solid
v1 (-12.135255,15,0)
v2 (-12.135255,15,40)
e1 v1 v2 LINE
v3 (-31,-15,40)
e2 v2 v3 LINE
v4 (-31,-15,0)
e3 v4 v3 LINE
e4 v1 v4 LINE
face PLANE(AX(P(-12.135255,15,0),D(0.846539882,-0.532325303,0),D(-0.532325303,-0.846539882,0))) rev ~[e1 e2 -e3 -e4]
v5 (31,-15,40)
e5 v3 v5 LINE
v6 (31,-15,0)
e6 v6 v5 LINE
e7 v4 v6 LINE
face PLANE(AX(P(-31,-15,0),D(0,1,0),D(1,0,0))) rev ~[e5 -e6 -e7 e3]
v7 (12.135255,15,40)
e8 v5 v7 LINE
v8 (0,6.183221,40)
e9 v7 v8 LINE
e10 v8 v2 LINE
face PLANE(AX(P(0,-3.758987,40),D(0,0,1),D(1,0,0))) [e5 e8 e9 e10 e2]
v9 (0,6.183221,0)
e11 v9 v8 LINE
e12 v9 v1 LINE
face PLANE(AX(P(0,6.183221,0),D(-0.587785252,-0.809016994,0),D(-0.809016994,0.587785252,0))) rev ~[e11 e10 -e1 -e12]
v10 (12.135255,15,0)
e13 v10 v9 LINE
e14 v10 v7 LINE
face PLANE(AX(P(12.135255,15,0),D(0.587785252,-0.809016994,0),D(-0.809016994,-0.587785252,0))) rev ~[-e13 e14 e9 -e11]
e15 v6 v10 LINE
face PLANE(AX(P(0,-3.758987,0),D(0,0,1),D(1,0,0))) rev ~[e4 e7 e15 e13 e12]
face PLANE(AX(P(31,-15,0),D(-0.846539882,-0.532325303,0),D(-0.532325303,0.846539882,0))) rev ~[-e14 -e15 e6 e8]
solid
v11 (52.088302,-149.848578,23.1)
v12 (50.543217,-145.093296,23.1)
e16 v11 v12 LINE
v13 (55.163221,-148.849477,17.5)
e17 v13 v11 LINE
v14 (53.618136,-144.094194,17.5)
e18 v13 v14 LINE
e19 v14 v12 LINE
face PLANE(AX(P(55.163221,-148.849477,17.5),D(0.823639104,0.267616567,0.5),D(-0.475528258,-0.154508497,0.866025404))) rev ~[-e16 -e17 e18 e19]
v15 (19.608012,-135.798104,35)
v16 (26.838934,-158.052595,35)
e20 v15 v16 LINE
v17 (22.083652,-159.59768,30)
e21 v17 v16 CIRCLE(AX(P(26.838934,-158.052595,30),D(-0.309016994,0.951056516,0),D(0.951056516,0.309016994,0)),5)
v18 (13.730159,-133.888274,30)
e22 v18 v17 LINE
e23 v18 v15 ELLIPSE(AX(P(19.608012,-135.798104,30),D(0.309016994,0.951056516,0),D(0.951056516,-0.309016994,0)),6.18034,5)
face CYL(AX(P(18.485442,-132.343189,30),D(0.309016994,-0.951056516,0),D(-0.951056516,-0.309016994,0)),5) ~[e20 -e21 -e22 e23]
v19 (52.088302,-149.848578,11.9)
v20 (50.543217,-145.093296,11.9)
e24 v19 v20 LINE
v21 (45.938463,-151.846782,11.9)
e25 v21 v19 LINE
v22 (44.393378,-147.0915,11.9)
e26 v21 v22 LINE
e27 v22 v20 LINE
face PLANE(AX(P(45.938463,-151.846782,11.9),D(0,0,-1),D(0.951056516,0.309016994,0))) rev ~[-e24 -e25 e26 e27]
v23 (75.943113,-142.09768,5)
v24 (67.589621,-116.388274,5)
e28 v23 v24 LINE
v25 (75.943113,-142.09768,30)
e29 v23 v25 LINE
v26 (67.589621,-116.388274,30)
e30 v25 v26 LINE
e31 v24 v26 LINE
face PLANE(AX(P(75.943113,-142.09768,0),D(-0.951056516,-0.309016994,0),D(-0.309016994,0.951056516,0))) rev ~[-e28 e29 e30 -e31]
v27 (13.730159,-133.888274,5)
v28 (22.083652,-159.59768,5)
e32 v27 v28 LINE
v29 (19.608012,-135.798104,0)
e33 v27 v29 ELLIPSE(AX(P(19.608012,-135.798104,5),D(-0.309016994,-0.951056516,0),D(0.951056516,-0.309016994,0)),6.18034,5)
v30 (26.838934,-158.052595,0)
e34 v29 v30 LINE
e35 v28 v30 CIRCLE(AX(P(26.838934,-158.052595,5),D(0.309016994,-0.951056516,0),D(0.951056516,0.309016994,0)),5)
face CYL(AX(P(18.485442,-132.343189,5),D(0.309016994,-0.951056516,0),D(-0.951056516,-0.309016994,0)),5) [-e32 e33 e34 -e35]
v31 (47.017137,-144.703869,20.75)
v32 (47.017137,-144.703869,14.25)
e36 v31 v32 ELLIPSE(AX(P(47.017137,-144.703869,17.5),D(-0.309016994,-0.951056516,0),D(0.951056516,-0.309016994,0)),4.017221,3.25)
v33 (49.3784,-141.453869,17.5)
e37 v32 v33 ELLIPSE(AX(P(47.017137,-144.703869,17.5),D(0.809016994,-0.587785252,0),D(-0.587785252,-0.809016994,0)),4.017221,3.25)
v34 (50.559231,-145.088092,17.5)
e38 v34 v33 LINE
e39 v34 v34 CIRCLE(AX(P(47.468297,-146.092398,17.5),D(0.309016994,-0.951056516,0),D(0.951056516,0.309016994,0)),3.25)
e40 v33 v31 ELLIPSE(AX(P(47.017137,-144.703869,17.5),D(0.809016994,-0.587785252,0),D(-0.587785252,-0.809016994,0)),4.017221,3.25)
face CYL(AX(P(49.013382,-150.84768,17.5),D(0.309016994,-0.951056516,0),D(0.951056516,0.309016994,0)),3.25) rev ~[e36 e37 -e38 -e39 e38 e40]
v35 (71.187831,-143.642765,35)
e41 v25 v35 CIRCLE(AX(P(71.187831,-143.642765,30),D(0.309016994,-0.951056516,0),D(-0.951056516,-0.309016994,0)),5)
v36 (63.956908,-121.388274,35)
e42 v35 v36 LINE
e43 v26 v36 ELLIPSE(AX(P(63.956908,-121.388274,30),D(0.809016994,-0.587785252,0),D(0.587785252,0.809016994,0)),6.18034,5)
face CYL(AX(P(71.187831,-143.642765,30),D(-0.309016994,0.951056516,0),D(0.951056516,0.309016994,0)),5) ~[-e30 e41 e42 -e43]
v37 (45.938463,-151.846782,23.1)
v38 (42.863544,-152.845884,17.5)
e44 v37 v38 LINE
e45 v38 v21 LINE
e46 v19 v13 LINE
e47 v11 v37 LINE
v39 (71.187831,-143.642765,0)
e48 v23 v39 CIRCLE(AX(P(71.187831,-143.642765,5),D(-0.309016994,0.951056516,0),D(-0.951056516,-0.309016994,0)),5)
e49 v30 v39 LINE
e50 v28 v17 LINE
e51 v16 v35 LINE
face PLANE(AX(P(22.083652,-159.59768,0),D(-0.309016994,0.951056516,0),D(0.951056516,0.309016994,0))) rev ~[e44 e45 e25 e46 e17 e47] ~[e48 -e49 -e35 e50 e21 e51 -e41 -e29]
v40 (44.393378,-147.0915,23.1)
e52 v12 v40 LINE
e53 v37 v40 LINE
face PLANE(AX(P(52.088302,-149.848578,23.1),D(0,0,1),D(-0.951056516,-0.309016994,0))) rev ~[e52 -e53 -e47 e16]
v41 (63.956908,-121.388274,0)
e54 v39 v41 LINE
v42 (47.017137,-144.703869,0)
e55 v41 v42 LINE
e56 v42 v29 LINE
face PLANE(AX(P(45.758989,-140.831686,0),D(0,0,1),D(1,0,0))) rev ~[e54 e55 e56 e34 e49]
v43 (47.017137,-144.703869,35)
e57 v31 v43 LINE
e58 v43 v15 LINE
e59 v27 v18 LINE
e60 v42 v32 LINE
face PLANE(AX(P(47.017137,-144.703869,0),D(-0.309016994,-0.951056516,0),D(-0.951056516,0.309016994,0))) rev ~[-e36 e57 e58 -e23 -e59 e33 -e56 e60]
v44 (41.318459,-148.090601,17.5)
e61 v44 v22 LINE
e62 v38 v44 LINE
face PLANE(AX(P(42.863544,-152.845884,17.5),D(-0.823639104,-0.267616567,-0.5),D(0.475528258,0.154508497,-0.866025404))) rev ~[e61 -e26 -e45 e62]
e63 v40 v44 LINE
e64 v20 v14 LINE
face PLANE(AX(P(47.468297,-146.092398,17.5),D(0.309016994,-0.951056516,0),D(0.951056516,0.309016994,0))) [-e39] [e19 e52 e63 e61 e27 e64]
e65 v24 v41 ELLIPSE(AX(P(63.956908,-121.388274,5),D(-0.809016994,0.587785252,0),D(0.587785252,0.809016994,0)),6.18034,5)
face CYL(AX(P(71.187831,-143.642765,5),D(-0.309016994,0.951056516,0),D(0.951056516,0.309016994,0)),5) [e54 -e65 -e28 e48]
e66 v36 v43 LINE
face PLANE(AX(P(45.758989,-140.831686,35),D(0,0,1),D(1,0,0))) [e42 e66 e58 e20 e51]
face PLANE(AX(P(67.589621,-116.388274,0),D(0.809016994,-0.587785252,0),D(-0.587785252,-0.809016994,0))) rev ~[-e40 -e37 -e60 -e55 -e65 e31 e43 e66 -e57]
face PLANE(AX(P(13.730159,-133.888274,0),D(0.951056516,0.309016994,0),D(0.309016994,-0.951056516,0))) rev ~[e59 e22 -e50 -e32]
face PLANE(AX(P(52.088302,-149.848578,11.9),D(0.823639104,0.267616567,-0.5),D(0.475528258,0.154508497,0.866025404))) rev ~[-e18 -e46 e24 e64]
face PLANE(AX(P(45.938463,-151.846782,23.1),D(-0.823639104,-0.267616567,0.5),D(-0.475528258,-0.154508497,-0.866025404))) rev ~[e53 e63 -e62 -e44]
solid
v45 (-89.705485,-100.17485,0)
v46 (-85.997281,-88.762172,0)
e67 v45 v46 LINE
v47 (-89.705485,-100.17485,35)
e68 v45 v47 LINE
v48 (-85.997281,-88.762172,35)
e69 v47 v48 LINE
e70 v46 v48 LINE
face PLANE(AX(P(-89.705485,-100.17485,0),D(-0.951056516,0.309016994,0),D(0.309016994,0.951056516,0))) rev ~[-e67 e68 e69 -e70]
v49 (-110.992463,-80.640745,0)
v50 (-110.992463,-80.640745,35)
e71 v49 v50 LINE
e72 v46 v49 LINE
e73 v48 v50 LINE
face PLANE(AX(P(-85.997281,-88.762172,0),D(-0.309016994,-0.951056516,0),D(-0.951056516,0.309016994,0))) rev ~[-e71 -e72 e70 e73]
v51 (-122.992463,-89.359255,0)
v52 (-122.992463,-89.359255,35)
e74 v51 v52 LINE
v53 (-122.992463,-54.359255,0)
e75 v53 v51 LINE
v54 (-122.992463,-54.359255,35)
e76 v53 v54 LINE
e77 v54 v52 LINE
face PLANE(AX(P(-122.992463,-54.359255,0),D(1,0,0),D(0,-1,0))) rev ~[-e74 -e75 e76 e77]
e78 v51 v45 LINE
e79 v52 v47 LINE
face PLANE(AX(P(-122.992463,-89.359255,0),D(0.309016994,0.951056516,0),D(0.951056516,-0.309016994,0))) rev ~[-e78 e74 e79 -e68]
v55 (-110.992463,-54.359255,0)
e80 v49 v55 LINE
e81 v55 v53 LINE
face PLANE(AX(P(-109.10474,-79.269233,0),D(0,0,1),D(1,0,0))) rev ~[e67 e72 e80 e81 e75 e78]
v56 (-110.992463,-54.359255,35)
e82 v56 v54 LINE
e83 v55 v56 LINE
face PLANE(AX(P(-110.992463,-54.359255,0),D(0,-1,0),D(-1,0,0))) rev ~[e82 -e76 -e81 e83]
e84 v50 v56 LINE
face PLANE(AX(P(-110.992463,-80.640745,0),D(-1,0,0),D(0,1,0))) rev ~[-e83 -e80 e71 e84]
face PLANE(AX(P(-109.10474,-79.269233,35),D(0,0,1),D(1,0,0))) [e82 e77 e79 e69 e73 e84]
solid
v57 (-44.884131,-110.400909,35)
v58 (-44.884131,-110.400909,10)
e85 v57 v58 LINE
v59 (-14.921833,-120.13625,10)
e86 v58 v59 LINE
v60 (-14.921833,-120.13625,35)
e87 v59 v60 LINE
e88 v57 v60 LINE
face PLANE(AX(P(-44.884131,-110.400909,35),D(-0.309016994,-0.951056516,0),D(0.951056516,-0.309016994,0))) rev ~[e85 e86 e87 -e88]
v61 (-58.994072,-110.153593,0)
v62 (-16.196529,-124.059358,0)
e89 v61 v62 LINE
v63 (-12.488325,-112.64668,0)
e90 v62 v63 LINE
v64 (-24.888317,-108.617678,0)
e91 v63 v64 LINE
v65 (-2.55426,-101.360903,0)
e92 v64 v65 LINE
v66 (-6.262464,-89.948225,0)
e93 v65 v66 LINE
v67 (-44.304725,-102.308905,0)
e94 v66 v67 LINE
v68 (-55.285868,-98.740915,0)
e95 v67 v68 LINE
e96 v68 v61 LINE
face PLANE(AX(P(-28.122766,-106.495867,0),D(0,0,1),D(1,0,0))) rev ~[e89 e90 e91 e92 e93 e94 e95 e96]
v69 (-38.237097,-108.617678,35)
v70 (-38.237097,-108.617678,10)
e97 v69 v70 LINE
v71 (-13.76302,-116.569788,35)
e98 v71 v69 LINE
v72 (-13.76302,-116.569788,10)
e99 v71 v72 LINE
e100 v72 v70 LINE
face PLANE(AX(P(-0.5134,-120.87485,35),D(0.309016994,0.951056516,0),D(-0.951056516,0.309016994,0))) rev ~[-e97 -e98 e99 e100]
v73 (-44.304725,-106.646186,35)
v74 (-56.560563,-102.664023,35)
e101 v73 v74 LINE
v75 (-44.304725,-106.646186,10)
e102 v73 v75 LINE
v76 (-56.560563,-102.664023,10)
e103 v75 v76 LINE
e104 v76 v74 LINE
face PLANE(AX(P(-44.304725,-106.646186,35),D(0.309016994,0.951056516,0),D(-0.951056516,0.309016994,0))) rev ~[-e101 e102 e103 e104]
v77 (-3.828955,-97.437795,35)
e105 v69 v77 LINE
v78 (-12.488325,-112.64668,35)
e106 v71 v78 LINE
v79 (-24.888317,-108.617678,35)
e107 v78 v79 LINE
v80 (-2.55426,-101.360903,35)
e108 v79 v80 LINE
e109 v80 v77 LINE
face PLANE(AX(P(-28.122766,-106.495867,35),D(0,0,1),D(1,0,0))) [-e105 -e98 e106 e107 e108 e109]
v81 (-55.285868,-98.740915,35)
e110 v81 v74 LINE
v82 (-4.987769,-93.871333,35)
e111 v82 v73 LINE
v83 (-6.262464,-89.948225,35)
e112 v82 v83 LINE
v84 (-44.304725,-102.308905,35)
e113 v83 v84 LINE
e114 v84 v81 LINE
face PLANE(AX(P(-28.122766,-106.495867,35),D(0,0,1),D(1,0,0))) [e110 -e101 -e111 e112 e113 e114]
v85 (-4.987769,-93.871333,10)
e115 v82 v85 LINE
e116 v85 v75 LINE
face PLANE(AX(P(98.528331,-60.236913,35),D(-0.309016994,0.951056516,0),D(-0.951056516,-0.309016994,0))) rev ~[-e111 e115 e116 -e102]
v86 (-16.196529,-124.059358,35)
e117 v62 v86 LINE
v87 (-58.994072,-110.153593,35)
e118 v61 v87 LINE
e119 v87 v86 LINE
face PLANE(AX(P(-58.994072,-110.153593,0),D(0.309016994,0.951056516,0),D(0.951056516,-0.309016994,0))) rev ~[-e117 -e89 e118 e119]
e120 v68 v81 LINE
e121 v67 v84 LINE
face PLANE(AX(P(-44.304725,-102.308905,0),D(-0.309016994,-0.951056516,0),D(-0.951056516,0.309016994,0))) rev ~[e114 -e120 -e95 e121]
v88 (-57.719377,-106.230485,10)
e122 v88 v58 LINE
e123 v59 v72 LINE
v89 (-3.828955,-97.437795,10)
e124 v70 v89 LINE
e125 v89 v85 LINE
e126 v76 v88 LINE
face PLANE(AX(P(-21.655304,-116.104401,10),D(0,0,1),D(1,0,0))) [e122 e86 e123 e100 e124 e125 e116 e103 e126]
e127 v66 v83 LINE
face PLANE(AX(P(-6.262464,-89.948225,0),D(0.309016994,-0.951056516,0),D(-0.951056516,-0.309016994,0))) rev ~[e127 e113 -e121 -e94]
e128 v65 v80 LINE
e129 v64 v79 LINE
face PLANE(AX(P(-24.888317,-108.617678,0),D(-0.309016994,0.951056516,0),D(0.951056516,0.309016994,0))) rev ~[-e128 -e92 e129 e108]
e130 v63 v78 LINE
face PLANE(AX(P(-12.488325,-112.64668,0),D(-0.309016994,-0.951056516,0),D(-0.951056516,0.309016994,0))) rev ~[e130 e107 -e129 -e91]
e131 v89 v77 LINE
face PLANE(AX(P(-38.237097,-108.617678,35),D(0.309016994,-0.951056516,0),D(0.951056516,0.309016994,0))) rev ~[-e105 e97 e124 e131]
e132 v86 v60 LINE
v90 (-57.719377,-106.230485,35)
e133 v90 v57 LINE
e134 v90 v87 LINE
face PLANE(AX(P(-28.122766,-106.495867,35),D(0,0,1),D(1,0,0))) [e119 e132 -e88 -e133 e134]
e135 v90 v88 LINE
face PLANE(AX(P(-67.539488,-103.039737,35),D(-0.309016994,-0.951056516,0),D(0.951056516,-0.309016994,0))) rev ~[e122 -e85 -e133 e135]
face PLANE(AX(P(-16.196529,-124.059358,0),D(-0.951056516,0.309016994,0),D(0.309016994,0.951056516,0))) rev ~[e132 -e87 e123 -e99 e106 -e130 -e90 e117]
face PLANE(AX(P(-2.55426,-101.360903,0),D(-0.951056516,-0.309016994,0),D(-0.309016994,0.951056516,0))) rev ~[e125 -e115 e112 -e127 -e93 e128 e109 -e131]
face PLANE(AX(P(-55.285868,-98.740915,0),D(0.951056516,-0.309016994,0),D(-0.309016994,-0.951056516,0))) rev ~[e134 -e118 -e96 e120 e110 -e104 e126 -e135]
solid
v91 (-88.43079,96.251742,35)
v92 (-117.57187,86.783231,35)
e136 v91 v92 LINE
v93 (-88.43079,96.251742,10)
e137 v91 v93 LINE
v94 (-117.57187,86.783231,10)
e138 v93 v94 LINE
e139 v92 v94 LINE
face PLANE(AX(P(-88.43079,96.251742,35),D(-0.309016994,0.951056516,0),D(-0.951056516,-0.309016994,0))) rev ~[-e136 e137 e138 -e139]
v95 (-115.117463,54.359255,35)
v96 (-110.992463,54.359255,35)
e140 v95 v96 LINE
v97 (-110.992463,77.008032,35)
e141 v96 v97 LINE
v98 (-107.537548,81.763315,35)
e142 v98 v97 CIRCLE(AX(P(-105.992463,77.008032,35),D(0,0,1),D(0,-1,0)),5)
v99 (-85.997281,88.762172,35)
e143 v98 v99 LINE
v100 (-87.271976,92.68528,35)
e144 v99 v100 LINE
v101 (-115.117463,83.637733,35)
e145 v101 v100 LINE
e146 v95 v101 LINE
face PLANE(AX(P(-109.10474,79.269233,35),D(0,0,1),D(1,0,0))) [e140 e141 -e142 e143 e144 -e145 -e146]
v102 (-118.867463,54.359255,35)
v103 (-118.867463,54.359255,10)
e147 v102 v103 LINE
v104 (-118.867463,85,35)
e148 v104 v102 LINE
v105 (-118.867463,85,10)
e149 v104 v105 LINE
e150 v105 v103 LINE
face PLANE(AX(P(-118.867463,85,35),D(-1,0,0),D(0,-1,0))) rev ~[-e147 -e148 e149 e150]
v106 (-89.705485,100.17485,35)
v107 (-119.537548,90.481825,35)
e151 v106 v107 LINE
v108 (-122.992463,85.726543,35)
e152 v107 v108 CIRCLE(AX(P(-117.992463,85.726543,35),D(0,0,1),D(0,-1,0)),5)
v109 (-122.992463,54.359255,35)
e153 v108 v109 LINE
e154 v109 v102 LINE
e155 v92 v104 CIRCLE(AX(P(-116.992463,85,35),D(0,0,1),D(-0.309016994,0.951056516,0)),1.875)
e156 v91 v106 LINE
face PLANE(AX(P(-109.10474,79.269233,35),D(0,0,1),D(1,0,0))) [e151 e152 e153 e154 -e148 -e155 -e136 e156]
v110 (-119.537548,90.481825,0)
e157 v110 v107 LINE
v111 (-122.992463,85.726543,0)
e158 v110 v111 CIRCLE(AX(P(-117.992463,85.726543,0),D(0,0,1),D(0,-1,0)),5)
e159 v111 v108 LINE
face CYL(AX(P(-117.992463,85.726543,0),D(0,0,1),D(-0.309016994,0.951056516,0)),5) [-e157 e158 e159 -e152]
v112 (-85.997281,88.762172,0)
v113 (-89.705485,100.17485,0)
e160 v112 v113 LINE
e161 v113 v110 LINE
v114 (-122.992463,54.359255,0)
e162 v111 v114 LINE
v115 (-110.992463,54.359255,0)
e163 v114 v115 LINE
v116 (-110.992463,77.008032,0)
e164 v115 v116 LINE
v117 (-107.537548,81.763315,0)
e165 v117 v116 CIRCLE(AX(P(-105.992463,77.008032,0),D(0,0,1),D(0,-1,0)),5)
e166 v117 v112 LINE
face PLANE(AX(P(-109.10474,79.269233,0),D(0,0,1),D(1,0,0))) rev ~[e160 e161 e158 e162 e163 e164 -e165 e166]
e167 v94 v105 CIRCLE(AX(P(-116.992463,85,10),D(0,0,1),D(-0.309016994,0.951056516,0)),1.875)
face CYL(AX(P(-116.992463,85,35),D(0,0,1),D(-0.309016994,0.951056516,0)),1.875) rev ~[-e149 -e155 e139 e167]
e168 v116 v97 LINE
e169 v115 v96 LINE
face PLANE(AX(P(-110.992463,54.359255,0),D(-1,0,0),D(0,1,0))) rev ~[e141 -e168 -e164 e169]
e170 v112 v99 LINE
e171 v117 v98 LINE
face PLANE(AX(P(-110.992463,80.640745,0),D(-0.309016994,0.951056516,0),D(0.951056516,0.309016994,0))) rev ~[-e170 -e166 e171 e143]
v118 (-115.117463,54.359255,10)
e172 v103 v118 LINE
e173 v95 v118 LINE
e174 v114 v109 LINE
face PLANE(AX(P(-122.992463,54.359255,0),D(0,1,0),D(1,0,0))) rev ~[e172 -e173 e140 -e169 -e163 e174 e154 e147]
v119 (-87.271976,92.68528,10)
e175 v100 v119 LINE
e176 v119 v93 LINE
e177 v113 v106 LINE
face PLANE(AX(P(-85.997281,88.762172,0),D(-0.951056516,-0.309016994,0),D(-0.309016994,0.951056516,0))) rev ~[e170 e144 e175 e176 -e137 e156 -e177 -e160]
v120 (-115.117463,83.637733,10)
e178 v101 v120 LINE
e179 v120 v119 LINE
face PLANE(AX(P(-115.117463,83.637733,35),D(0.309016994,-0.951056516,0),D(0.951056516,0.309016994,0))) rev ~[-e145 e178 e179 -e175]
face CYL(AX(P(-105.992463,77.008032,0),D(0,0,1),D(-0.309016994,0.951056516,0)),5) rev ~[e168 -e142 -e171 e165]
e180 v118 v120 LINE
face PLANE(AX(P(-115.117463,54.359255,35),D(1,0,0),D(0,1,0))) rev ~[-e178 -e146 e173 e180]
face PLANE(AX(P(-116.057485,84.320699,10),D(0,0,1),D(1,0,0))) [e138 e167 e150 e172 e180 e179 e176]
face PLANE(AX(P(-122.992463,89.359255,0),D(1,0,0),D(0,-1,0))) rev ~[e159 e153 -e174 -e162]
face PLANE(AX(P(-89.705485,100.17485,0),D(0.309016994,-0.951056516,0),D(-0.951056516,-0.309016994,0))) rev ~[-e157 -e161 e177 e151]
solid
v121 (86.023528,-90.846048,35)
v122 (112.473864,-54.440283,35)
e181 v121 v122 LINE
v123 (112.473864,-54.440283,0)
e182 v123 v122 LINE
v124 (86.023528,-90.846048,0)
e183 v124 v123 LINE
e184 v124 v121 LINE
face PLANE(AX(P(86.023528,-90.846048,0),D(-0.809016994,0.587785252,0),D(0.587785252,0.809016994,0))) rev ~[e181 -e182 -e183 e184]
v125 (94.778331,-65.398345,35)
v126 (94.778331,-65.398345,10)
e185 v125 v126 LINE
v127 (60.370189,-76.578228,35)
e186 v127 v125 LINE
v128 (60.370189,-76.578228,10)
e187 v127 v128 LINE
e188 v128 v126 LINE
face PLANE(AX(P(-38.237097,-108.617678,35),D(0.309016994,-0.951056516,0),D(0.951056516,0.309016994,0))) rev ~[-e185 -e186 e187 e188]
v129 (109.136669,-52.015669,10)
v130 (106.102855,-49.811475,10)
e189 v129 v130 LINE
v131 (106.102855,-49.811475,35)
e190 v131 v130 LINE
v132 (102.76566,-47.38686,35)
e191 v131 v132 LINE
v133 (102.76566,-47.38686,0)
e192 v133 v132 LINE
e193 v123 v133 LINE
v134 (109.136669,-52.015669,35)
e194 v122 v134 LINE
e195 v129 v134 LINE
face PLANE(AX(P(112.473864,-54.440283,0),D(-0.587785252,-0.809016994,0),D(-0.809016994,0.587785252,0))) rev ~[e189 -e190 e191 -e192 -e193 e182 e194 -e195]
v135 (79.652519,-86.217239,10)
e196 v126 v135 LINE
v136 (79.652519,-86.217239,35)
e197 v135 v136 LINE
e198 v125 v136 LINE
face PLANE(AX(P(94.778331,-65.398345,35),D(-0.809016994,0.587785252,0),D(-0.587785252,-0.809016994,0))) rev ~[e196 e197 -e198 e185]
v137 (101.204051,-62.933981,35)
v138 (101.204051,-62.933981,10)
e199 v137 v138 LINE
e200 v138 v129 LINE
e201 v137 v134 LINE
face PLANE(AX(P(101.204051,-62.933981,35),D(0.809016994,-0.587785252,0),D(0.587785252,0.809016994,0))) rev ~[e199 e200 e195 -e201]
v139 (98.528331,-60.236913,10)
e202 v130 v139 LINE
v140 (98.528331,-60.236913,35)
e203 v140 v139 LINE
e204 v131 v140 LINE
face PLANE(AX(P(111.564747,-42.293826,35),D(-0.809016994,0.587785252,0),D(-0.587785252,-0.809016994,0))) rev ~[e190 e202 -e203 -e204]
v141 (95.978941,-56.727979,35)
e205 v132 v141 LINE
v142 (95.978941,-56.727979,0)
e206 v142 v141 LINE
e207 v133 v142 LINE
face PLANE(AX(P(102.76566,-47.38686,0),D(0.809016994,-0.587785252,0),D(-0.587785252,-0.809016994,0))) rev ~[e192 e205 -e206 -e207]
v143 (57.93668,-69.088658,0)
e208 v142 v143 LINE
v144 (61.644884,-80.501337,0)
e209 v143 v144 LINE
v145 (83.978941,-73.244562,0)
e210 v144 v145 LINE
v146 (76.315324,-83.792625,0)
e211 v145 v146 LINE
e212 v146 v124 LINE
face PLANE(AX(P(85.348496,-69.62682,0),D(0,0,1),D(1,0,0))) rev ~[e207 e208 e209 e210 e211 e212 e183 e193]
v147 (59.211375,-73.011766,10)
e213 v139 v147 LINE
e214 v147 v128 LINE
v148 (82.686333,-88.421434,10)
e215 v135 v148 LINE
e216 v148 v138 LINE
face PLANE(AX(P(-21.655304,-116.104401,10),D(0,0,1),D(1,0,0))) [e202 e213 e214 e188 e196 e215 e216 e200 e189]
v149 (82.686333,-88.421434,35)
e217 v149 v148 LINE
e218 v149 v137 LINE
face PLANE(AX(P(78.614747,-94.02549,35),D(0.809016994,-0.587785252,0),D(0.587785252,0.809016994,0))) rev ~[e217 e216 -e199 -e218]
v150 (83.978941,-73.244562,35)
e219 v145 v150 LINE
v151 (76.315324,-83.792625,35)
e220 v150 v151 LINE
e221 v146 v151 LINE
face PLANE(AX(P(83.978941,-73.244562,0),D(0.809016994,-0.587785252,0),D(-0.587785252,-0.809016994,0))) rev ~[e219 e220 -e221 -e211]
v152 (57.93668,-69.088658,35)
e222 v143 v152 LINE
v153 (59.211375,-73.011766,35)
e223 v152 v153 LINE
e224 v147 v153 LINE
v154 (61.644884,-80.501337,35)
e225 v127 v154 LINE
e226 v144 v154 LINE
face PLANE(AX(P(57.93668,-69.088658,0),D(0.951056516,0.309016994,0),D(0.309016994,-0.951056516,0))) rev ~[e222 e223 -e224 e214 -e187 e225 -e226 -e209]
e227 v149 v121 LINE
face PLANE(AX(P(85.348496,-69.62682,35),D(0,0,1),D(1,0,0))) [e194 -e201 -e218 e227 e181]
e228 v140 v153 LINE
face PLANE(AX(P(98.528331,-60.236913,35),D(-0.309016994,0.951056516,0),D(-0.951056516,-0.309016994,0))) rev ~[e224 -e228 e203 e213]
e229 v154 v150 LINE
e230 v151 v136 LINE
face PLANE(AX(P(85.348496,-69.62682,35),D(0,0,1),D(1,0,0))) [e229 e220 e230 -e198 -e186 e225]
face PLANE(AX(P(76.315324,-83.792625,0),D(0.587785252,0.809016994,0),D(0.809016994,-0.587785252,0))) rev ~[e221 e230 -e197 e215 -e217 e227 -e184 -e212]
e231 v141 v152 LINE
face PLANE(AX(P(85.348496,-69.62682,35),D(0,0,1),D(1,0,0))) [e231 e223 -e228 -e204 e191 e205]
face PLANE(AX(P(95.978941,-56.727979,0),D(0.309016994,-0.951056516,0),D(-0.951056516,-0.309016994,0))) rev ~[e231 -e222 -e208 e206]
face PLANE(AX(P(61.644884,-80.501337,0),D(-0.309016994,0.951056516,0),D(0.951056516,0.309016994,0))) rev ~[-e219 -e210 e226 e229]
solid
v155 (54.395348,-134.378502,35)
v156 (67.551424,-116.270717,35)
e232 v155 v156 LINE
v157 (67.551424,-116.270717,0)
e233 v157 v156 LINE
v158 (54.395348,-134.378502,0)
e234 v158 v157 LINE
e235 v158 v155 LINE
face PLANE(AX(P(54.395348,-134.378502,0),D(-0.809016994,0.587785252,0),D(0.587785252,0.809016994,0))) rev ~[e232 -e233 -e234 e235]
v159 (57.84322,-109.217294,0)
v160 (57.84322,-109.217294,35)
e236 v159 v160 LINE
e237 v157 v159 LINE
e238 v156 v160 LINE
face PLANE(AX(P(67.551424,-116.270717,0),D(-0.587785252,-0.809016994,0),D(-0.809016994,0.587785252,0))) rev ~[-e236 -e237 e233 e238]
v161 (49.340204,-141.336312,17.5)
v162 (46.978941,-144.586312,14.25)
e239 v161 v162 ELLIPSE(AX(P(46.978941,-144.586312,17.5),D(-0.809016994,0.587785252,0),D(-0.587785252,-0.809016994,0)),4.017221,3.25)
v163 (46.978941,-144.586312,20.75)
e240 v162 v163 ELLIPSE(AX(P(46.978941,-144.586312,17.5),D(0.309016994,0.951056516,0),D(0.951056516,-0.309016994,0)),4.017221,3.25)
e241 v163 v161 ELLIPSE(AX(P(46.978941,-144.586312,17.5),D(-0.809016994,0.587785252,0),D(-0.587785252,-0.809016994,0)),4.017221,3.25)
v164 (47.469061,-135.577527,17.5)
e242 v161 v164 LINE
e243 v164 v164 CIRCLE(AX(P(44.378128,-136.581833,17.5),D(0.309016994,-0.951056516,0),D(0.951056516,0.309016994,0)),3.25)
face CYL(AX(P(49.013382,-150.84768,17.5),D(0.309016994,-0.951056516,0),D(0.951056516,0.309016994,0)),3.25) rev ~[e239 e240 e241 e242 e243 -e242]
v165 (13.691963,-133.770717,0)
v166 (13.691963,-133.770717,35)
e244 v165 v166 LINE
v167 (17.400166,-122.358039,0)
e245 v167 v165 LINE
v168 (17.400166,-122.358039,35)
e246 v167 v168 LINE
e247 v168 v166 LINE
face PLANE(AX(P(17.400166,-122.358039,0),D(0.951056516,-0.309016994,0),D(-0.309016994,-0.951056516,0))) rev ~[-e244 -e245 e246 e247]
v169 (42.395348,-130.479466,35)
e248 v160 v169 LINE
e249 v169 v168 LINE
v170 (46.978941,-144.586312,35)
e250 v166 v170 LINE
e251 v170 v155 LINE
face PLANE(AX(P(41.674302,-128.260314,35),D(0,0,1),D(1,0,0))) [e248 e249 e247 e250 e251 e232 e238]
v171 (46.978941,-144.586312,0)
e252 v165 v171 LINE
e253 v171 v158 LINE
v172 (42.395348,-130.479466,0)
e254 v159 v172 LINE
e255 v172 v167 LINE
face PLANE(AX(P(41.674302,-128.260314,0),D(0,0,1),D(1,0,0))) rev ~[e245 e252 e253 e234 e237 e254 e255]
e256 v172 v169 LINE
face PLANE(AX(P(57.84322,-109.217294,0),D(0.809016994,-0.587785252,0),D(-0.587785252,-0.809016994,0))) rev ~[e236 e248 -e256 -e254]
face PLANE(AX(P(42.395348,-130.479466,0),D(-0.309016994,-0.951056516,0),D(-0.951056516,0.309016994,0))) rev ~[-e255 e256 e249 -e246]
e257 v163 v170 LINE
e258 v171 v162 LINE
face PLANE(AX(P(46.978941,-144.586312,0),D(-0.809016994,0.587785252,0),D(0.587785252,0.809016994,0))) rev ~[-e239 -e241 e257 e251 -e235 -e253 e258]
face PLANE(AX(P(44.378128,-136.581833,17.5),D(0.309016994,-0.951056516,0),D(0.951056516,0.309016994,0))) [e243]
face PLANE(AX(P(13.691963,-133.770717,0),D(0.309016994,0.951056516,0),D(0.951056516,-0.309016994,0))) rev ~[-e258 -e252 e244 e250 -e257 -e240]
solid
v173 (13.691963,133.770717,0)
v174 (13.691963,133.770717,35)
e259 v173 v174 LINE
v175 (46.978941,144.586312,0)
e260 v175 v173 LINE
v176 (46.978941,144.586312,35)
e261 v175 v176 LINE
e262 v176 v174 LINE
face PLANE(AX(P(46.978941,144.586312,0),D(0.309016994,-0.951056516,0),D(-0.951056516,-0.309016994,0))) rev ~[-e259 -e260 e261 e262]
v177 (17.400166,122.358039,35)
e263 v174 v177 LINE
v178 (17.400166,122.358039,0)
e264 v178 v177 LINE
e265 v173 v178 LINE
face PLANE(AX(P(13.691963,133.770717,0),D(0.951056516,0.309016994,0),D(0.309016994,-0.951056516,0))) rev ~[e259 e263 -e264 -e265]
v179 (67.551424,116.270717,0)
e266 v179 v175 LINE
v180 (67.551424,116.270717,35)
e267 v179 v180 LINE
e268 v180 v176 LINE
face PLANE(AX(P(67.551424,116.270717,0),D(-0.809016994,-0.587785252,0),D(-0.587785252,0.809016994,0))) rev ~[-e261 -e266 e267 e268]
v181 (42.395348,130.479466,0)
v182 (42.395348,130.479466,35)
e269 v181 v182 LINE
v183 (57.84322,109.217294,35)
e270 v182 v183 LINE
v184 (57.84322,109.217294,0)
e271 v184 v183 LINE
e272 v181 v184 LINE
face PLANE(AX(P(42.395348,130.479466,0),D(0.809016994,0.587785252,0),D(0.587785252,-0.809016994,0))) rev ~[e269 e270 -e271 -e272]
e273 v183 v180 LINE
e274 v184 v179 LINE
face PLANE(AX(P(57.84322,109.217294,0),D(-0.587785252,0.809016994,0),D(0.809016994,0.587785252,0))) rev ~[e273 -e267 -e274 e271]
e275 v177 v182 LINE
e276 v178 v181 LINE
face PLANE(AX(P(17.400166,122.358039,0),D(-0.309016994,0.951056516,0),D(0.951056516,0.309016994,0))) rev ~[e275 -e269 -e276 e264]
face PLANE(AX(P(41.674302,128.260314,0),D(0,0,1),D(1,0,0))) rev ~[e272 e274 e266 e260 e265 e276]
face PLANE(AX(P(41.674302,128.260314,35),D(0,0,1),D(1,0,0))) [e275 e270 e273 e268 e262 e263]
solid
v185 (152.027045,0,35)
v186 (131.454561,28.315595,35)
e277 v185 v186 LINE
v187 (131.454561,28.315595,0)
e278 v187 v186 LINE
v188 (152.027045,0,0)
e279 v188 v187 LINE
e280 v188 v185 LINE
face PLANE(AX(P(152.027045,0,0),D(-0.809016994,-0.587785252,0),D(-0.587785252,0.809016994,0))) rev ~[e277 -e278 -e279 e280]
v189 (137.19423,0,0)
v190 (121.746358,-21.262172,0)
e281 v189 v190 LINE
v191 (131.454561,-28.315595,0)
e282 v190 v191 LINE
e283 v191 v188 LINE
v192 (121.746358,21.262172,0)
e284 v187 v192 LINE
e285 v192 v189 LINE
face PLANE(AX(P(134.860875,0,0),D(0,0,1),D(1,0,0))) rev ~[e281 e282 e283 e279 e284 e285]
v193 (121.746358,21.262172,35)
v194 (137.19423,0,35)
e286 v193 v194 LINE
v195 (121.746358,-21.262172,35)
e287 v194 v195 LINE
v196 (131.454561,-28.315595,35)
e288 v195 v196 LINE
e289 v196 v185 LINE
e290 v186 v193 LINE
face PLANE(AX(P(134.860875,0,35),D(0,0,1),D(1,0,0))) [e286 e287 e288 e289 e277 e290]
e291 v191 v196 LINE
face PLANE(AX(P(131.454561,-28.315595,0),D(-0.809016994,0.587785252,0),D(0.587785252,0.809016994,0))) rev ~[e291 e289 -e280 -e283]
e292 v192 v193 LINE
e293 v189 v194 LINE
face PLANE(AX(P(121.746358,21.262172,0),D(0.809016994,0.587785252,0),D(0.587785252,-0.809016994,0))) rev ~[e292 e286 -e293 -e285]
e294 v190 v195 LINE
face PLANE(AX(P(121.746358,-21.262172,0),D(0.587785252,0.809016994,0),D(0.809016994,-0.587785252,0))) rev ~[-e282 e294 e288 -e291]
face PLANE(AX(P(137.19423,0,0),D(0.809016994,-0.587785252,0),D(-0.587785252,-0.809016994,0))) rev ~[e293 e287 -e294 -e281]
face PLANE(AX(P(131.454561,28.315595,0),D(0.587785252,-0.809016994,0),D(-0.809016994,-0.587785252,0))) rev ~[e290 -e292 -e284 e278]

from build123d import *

# Parameters (mm, degrees)
F1_DEPTH  = 35
F3_DEPTH  = 25
F4_R      = 5
F6_DEPTH  = 25
F8_DEPTH  = 25
F9_R      = 5
F12_DEPTH = 5
F11_R     = 3.25
F13_DEPTH = 15
F15_DEPTH = 40


with BuildPart() as f1:
    # F0 (on Top) → F1 (new body)
    with BuildSketch(Plane.XY):
        Polygon((-89.7054851697, 100.1748499712), (-122.99246324, 89.359255168), (-122.99246324, 54.359255168), (-110.99246324, 54.359255168), (-110.99246324, 80.640744832), (-85.9972812372, 88.7621717756), align=None)
    extrude(amount=F1_DEPTH)


with BuildPart() as f1b:
    # F0 (on Top) → F1, piece 2 (new body)
    with BuildSketch(Plane.XY):
        Polygon((-89.7054851697, -100.1748499712), (-85.9972812372, -88.7621717756), (-110.99246324, -80.640744832), (-110.99246324, -54.359255168), (-122.99246324, -54.359255168), (-122.99246324, -89.359255168), align=None)
    extrude(amount=F1_DEPTH)


with BuildPart() as f1c:
    # F0 (on Top) → F1, piece 3 (new body)
    with BuildSketch(Plane.XY):
        Polygon((54.3953484626, -134.378502371), (67.5514244279, -116.2707172681), (57.8432204954, -109.2172942406), (42.3953484626, -130.4794660162), (17.4001664598, -122.3580390726), (13.6919625273, -133.7707172681), (46.9789405976, -144.5863120713), align=None)
    extrude(amount=F1_DEPTH)


with BuildPart() as f1d:
    # F0 (on Top) → F1, piece 4 (new body)
    with BuildSketch(Plane.XY):
        Polygon((131.4545614546, 28.3155948031), (121.7463575221, 21.2621717756), (137.1942295548, 0), (121.7463575221, -21.2621717756), (131.4545614546, -28.3155948031), (152.0270452848, 0), align=None)
    extrude(amount=F1_DEPTH)


with BuildPart() as f1e:
    # F0 (on Top) → F1, piece 5 (new body)
    with BuildSketch(Plane.XY):
        Polygon((67.5514244279, 116.2707172681), (46.9789405976, 144.5863120713), (13.6919625273, 133.7707172681), (17.4001664598, 122.3580390726), (42.3953484626, 130.4794660162), (57.8432204954, 109.2172942406), align=None)
    extrude(amount=F1_DEPTH)


with BuildPart() as f1f:
    # F0 (on Top) → F1, piece 6 (new body)
    with BuildSketch(Plane.XY):
        Polygon((-58.9940718149, -110.1535930693), (-16.1965285816, -124.0593578161), (-12.4883246491, -112.6466796206), (-24.8883169861, -108.6176778772), (-2.5542602668, -101.3609029523), (-6.2624641993, -89.9482247568), (-44.3047248511, -102.3089045318), (-55.2858678824, -98.7409148737), align=None)
    extrude(amount=F1_DEPTH)


with BuildPart() as f1g:
    # F0 (on Top) → F1, piece 7 (new body)
    with BuildSketch(Plane.XY):
        Polygon((112.4738641588, -54.440283399), (102.7656602263, -47.3868603715), (95.9789405976, -56.7279785677), (57.9366799458, -69.0886583427), (61.6448838783, -80.5013365383), (83.9789405976, -73.2445616134), (76.3153238731, -83.7926251184), (86.0235278056, -90.8460481459), align=None)
    extrude(amount=F1_DEPTH)


with BuildPart() as f1h:
    # F0 (on Top) → F1, piece 8 (new body)
    with BuildSketch(Plane.XY):
        Polygon((13.7301591284, -133.8882743186), (22.0836515011, -159.5976802719), (75.9431134017, -142.0976802719), (67.589621029, -116.3882743186), (47.0171371988, -144.7038691217), align=None)
    extrude(amount=F1_DEPTH)

    # F9
    f9_edges = [f1h.edges().sort_by_distance(p)[0] for p in [
        (17.906905, -146.742977, 0),
        (17.906905, -146.742977, 35),
        (71.766367, -129.242977, 35),
        (71.766367, -129.242977, 0),
    ]]
    fillet(f9_edges, radius=F9_R)

    # F10 (on face) → F12 (cut)
    with BuildSketch(Plane(origin=(49.0133824514, -150.8476802719, 0), x_dir=(0.9510565163, 0.3090169944, 0), z_dir=(0.3090169944, -0.9510565163, 0))):
        Polygon((3.2331615075, 23.1), (-3.2331615075, 23.1), (-6.4663230149, 17.5), (-3.2331615075, 11.9), (3.2331615075, 11.9), (6.4663230149, 17.5), align=None)
    extrude(amount=-F12_DEPTH, mode=Mode.SUBTRACT)


with BuildPart() as f3_tool:
    # F2 (on face) → F3 (new body)
    with BuildSketch(Plane.XY.offset(35)):
        with BuildLine():
            Line((-38.2370973933, -108.6176778772), (-41.2709111222, -109.6034237124))
            Line((-41.2709111222, -109.6034237124), (-43.7253179867, -110.4009088452))
            ThreePointArc((-43.7253179867, -110.4009088452), (-44.3047247368, -110.4926778772), (-44.8841314982, -110.4009089159))
            Line((-44.8841314982, -110.4009089159), (-1.672213686, -124.441312125))
            ThreePointArc((-1.672213686, -124.441312125), (0.6904241465, -123.2374880214), (-0.5133999571, -120.8748501889))
            Line((-0.5133999571, -120.8748501889), (-38.2370973933, -108.6176778772))
        make_face()
        with BuildLine():
            ThreePointArc((-44.8841314982, -110.4009089159), (-45.9753620321, -109.468910166), (-46.0879558192, -108.0382710127))
            ThreePointArc((-46.0879558192, -108.0382710127), (-45.6305500658, -107.2918526625), (-44.8841317156, -106.8344469091))
            Line((-44.8841317156, -106.8344469091), (-44.3047248511, -106.6461862067))
            Line((-44.3047248511, -106.6461862067), (-66.3806738585, -99.4732755612))
            ThreePointArc((-66.3806738585, -99.4732755612), (-68.743311691, -100.6770996648), (-67.5394875874, -103.0397374973))
            Line((-67.5394875874, -103.0397374973), (-44.8841314982, -110.4009089159))
        make_face()
        with BuildLine():
            Line((111.5647467268, -42.2938259644), (98.5283308012, -60.2369131522))
            Line((98.5283308012, -60.2369131522), (99.1077376657, -60.0486524498))
            ThreePointArc((99.1077376657, -60.0486524498), (99.9804591521, -59.9799677792), (100.7892418782, -60.3149765534))
            ThreePointArc((100.7892418782, -60.3149765534), (101.5390601695, -61.5385688005), (101.2040513891, -62.9339807735))
            Line((101.2040513891, -62.9339807735), (114.5985604557, -44.4980206605))
            ThreePointArc((114.5985604557, -44.4980206605), (114.1837509393, -41.879016448), (111.5647467268, -42.2938259644))
        make_face()
        with BuildLine():
            Line((97.8121445301, -64.4125995187), (94.7783308012, -65.3983453539))
            Line((94.7783308012, -65.3983453539), (75.5809337275, -91.8212956063))
            ThreePointArc((75.5809337275, -91.8212956063), (75.9957432439, -94.4402998188), (78.6147474564, -94.0254903024))
            Line((78.6147474564, -94.0254903024), (101.2040513891, -62.9339807735))
            ThreePointArc((101.2040513891, -62.9339807735), (100.7892418744, -63.348790285), (100.2665513946, -63.6151143859))
            Line((100.2665513946, -63.6151143859), (97.8121445301, -64.4125995187))
        make_face()
        with BuildLine():
            Line((-116.99246324, 85), (-116.99246324, 83.125))
            ThreePointArc((-116.99246324, 83.125), (-116.6991486181, 83.1480843614), (-116.4130563756, 83.2167690319))
            Line((-116.4130563756, 83.2167690319), (-115.11746324, 83.63773276))
            Line((-115.11746324, 83.63773276), (-115.11746324, 85))
            ThreePointArc((-115.11746324, 85), (-115.1405476014, 85.293314622), (-115.209232272, 85.5794068645))
            Line((-115.209232272, 85.5794068645), (-116.99246324, 85))
        make_face()
        Polygon((-44.3047248511, -106.6461862067), (-41.2709111222, -107.631932042), (96.6533308012, -62.8176292531), (98.5283308012, -60.2369131522), align=None)
        with BuildLine():
            ThreePointArc((-118.86746324, 85), (-118.3182884548, 83.6741747853), (-116.99246324, 83.125))
            Line((-116.99246324, 83.125), (-116.99246324, 85))
            Line((-116.99246324, 85), (-115.209232272, 85.5794068645))
            ThreePointArc((-115.209232272, 85.5794068645), (-116.141231053, 86.6706372329), (-117.5718701045, 86.7832309681))
            ThreePointArc((-117.5718701045, 86.7832309681), (-118.5093701045, 86.102097348), (-118.86746324, 85))
        make_face()
        with BuildLine():
            Line((-46.0879558192, -108.0382710127), (-44.3047248511, -108.6176778772))
            Line((-44.3047248511, -108.6176778772), (-41.2709111222, -107.631932042))
            Line((-41.2709111222, -107.631932042), (-44.3047248511, -106.6461862067))
            Line((-44.3047248511, -106.6461862067), (-44.8841317156, -106.8344469091))
            ThreePointArc((-44.8841317156, -106.8344469091), (-45.6305500658, -107.2918526625), (-46.0879558192, -108.0382710127))
        make_face()
        Polygon((-41.2709111222, -107.631932042), (-44.3047248511, -108.6176778772), (-41.2709111222, -109.6034237124), (-38.2370973933, -108.6176778772), align=None)
        with BuildLine():
            Line((98.5283308012, -60.2369131522), (96.6533308012, -62.8176292531))
            Line((96.6533308012, -62.8176292531), (99.6871445301, -61.8318834178))
            Line((99.6871445301, -61.8318834178), (100.7892418782, -60.3149765534))
            ThreePointArc((100.7892418782, -60.3149765534), (99.9804591521, -59.9799677792), (99.1077376657, -60.0486524498))
            Line((99.1077376657, -60.0486524498), (98.5283308012, -60.2369131522))
        make_face()
        Polygon((99.6871445301, -61.8318834178), (96.6533308012, -62.8176292531), (94.7783308012, -65.3983453539), (97.8121445301, -64.4125995187), align=None)
        with BuildLine():
            Line((100.7892418782, -60.3149765534), (99.6871445301, -61.8318834178))
            Line((99.6871445301, -61.8318834178), (97.8121445301, -64.4125995187))
            Line((97.8121445301, -64.4125995187), (100.2665513946, -63.6151143859))
            ThreePointArc((100.2665513946, -63.6151143859), (100.7892418744, -63.348790285), (101.2040513891, -62.9339807735))
            ThreePointArc((101.2040513891, -62.9339807735), (101.5390601695, -61.5385688005), (100.7892418782, -60.3149765534))
        make_face()
        with BuildLine():
            Line((-41.2709111222, -109.6034237124), (-44.3047248511, -108.6176778772))
            Line((-44.3047248511, -108.6176778772), (-46.0879558192, -108.0382710127))
            ThreePointArc((-46.0879558192, -108.0382710127), (-45.9753620321, -109.468910166), (-44.8841314982, -110.4009089159))
            ThreePointArc((-44.8841314982, -110.4009089159), (-44.3047247368, -110.4926778772), (-43.7253179867, -110.4009088452))
            Line((-43.7253179867, -110.4009088452), (-41.2709111222, -109.6034237124))
        make_face()
        with BuildLine():
            Line((-118.86746324, 54.359255168), (-116.99246324, 54.359255168))
            Line((-116.99246324, 54.359255168), (-116.99246324, 83.125))
            ThreePointArc((-116.99246324, 83.125), (-118.3182884548, 83.6741747853), (-118.86746324, 85))
            Line((-118.86746324, 85), (-118.86746324, 54.359255168))
        make_face()
        with BuildLine():
            Line((-116.99246324, 83.125), (-116.99246324, 54.359255168))
            Line((-116.99246324, 54.359255168), (-115.11746324, 54.359255168))
            Line((-115.11746324, 54.359255168), (-115.11746324, 83.63773276))
            Line((-115.11746324, 83.63773276), (-116.4130563756, 83.2167690319))
            ThreePointArc((-116.4130563756, 83.2167690319), (-116.6991486181, 83.1480843614), (-116.99246324, 83.125))
        make_face()
        with BuildLine():
            ThreePointArc((-117.5718701045, 86.7832309681), (-116.141231053, 86.6706372329), (-115.209232272, 85.5794068645))
            Line((-115.209232272, 85.5794068645), (-87.8513832035, 94.4685108734))
            Line((-87.8513832035, 94.4685108734), (-88.4307900679, 96.2517418414))
            Line((-88.4307900679, 96.2517418414), (-117.5718701045, 86.7832309681))
        make_face()
        with BuildLine():
            Line((-115.11746324, 85), (-115.11746324, 83.63773276))
            Line((-115.11746324, 83.63773276), (-87.271976339, 92.6852799053))
            Line((-87.271976339, 92.6852799053), (-87.8513832035, 94.4685108734))
            Line((-87.8513832035, 94.4685108734), (-115.209232272, 85.5794068645))
            ThreePointArc((-115.209232272, 85.5794068645), (-115.1405476014, 85.293314622), (-115.11746324, 85))
        make_face()
        with BuildLine():
            Line((-115.11746324, 54.359255168), (-116.99246324, 54.359255168))
            Line((-116.99246324, 54.359255168), (-118.86746324, 54.359255168))
            ThreePointArc((-118.86746324, 54.359255168), (-116.99246324, 52.484255168), (-115.11746324, 54.359255168))
        make_face()
        with BuildLine():
            Line((-87.8513832035, 94.4685108734), (-87.271976339, 92.6852799053))
            ThreePointArc((-87.271976339, 92.6852799053), (-86.0681522354, 95.0479177378), (-88.4307900679, 96.2517418414))
            Line((-88.4307900679, 96.2517418414), (-87.8513832035, 94.4685108734))
        make_face()
    extrude(amount=-F3_DEPTH)


with BuildPart() as f1_1:
    add(f1.part)

    # F3: cut by f3_tool
    add(f3_tool.part, mode=Mode.SUBTRACT)

    # F4
    f4_edges = [f1_1.edges().sort_by_distance(p)[0] for p in [
        (-110.992463, 80.640745, 17.5),
        (-122.992463, 89.359255, 17.5),
    ]]
    fillet(f4_edges, radius=F4_R)

    # F7 (on face) → F8 (cut)
    with BuildSketch(Plane.XY.offset(35)):
        with BuildLine():
            Line((97.8121445301, -64.4125995187), (94.7783308012, -65.3983453539))
            Line((94.7783308012, -65.3983453539), (79.6525189749, -86.2172392841))
            Line((79.6525189749, -86.2172392841), (75.6043512253, -91.7890641857))
            ThreePointArc((75.6043512253, -91.7890641857), (76.0191607417, -94.4080683982), (78.6381649542, -93.9932588818))
            Line((78.6381649542, -93.9932588818), (101.2040513891, -62.9339807735))
            ThreePointArc((101.2040513891, -62.9339807735), (100.7892418744, -63.348790285), (100.2665513946, -63.6151143859))
            Line((100.2665513946, -63.6151143859), (97.8121445301, -64.4125995187))
        make_face()
        Polygon((99.6871445301, -61.8318834178), (96.6533308012, -62.8176292531), (94.7783308012, -65.3983453539), (97.8121445301, -64.4125995187), align=None)
        Polygon((-44.5022110645, -106.7103533672), (-41.4683973356, -107.6960992024), (96.6533308012, -62.8176292531), (98.5283308012, -60.2369131522), align=None)
        with BuildLine():
            Line((98.5283308012, -60.2369131522), (96.6533308012, -62.8176292531))
            Line((96.6533308012, -62.8176292531), (99.6871445301, -61.8318834178))
            Line((99.6871445301, -61.8318834178), (100.7892418782, -60.3149765534))
            ThreePointArc((100.7892418782, -60.3149765534), (99.9804591521, -59.9799677792), (99.1077376657, -60.0486524498))
            Line((99.1077376657, -60.0486524498), (98.5283308012, -60.2369131522))
        make_face()
        with BuildLine():
            Line((111.5881642246, -42.2615945438), (98.5283308012, -60.2369131522))
            Line((98.5283308012, -60.2369131522), (99.1077376657, -60.0486524498))
            ThreePointArc((99.1077376657, -60.0486524498), (99.9804591521, -59.9799677792), (100.7892418782, -60.3149765534))
            ThreePointArc((100.7892418782, -60.3149765534), (101.5390601695, -61.5385688005), (101.2040513891, -62.9339807735))
            Line((101.2040513891, -62.9339807735), (114.6219779535, -44.4657892399))
            ThreePointArc((114.6219779535, -44.4657892399), (114.2071684371, -41.8467850274), (111.5881642246, -42.2615945438))
        make_face()
        with BuildLine():
            Line((100.7892418782, -60.3149765534), (99.6871445301, -61.8318834178))
            Line((99.6871445301, -61.8318834178), (97.8121445301, -64.4125995187))
            Line((97.8121445301, -64.4125995187), (100.2665513946, -63.6151143859))
            ThreePointArc((100.2665513946, -63.6151143859), (100.7892418744, -63.348790285), (101.2040513891, -62.9339807735))
            ThreePointArc((101.2040513891, -62.9339807735), (101.5390601695, -61.5385688005), (100.7892418782, -60.3149765534))
        make_face()
        Polygon((96.6533308012, -62.8176292531), (-41.4683973356, -107.6960992024), (-38.4345836067, -108.6818450377), (60.3701887765, -76.5782284085), (94.7783308012, -65.3983453539), align=None)
    extrude(amount=-F8_DEPTH, mode=Mode.SUBTRACT)


with BuildPart() as f1f_1:
    add(f1f.part)

    # F3: cut by f3_tool
    add(f3_tool.part, mode=Mode.SUBTRACT)


with BuildPart() as f1g_1:
    add(f1g.part)

    # F3: cut by f3_tool
    add(f3_tool.part, mode=Mode.SUBTRACT)


with BuildPart() as f6_tool:
    # F5 (on face) → F6 (new body)
    with BuildSketch(Plane.XY.offset(35)):
        with BuildLine():
            ThreePointArc((-44.8841315729, -110.4009088916), (-45.9753620499, -109.4689101311), (-46.0879558192, -108.0382710127))
            ThreePointArc((-46.0879558192, -108.0382710127), (-45.6305500658, -107.2918526625), (-44.8841317156, -106.8344469091))
            Line((-44.8841317156, -106.8344469091), (-44.3047248511, -106.6461862067))
            Line((-44.3047248511, -106.6461862067), (-66.8842523844, -99.3096529795))
            ThreePointArc((-66.8842523844, -99.3096529795), (-69.2468902169, -100.5134770831), (-68.0430661133, -102.8761149157))
            Line((-68.0430661133, -102.8761149157), (-44.8841315729, -110.4009088916))
        make_face()
        with BuildLine():
            Line((-41.2709111222, -109.6034237124), (-44.3047248511, -108.6176778772))
            Line((-44.3047248511, -108.6176778772), (-46.0879558192, -108.0382710127))
            ThreePointArc((-46.0879558192, -108.0382710127), (-45.9753620499, -109.4689101311), (-44.8841315729, -110.4009088916))
            ThreePointArc((-44.8841315729, -110.4009088916), (-44.3047247761, -110.4926778772), (-43.7253179867, -110.4009088452))
            Line((-43.7253179867, -110.4009088452), (-41.2709111222, -109.6034237124))
        make_face()
        with BuildLine():
            Line((-46.0879558192, -108.0382710127), (-44.3047248511, -108.6176778772))
            Line((-44.3047248511, -108.6176778772), (-41.2709111222, -107.631932042))
            Line((-41.2709111222, -107.631932042), (-44.3047248511, -106.6461862067))
            Line((-44.3047248511, -106.6461862067), (-44.8841317156, -106.8344469091))
            ThreePointArc((-44.8841317156, -106.8344469091), (-45.6305500658, -107.2918526625), (-46.0879558192, -108.0382710127))
        make_face()
        Polygon((-41.2709111222, -107.631932042), (-44.3047248511, -108.6176778772), (-41.2709111222, -109.6034237124), (-38.2370973933, -108.6176778772), align=None)
        Polygon((-44.3047248511, -106.6461862067), (-41.2709111222, -107.631932042), (-4.4083622331, -95.6545638545), (96.6533308012, -62.8176292531), (98.5283308012, -60.2369131522), align=None)
        Polygon((-4.4083622331, -95.6545638545), (-41.2709111222, -107.631932042), (-38.2370973933, -108.6176778772), (-3.8289553686, -97.4377948226), align=None)
        with BuildLine():
            Line((-38.2370973933, -108.6176778772), (-41.2709111222, -109.6034237124))
            Line((-41.2709111222, -109.6034237124), (-43.7253179867, -110.4009088452))
            ThreePointArc((-43.7253179867, -110.4009088452), (-44.3047247761, -110.4926778772), (-44.8841315729, -110.4009088916))
            Line((-44.8841315729, -110.4009088916), (-2.1757922119, -124.2776895434))
            ThreePointArc((-2.1757922119, -124.2776895434), (0.1868456206, -123.0738654398), (-1.016978483, -120.7112276073))
            Line((-1.016978483, -120.7112276073), (-13.7630197509, -116.5697877503))
            Line((-13.7630197509, -116.5697877503), (-38.2370973933, -108.6176778772))
        make_face()
        Polygon((96.6533308012, -62.8176292531), (-4.4083622331, -95.6545638545), (-3.8289553686, -97.4377948226), (94.7783308012, -65.3983453539), align=None)
        with BuildLine():
            Line((100.7892418782, -60.3149765534), (99.6871445301, -61.8318834178))
            Line((99.6871445301, -61.8318834178), (97.8121445301, -64.4125995187))
            Line((97.8121445301, -64.4125995187), (100.2665513946, -63.6151143859))
            ThreePointArc((100.2665513946, -63.6151143859), (100.7892419327, -63.3487902427), (101.2040514738, -62.9339806568))
            ThreePointArc((101.2040514738, -62.9339806568), (101.5390601582, -61.5385687293), (100.7892418782, -60.3149765534))
        make_face()
        with BuildLine():
            Line((98.5283308012, -60.2369131522), (96.6533308012, -62.8176292531))
            Line((96.6533308012, -62.8176292531), (99.6871445301, -61.8318834178))
            Line((99.6871445301, -61.8318834178), (100.7892418782, -60.3149765534))
            ThreePointArc((100.7892418782, -60.3149765534), (99.9804591521, -59.9799677792), (99.1077376657, -60.0486524498))
            Line((99.1077376657, -60.0486524498), (98.5283308012, -60.2369131522))
        make_face()
        Polygon((99.6871445301, -61.8318834178), (96.6533308012, -62.8176292531), (94.7783308012, -65.3983453539), (97.8121445301, -64.4125995187), align=None)
        with BuildLine():
            Line((97.8121445301, -64.4125995187), (94.7783308012, -65.3983453539))
            Line((94.7783308012, -65.3983453539), (75.4062468998, -92.0617313977))
            ThreePointArc((75.4062468998, -92.0617313977), (75.8210564162, -94.6807356102), (78.4400606287, -94.2659260938))
            Line((78.4400606287, -94.2659260938), (101.2040514738, -62.9339806568))
            ThreePointArc((101.2040514738, -62.9339806568), (100.7892419327, -63.3487902427), (100.2665513946, -63.6151143859))
            Line((100.2665513946, -63.6151143859), (97.8121445301, -64.4125995187))
        make_face()
        with BuildLine():
            Line((111.3900598991, -42.5342617558), (98.5283308012, -60.2369131522))
            Line((98.5283308012, -60.2369131522), (99.1077376657, -60.0486524498))
            ThreePointArc((99.1077376657, -60.0486524498), (99.9804591521, -59.9799677792), (100.7892418782, -60.3149765534))
            ThreePointArc((100.7892418782, -60.3149765534), (101.5390601582, -61.5385687293), (101.2040514738, -62.9339806568))
            Line((101.2040514738, -62.9339806568), (114.423873628, -44.7384564519))
            ThreePointArc((114.423873628, -44.7384564519), (114.0090641116, -42.1194522394), (111.3900598991, -42.5342617558))
        make_face()
    extrude(amount=-F6_DEPTH)


with BuildPart() as f1f_2:
    add(f1f_1.part)

    # F6: cut by f6_tool
    add(f6_tool.part, mode=Mode.SUBTRACT)


with BuildPart() as f1g_2:
    add(f1g_1.part)

    # F6: cut by f6_tool
    add(f6_tool.part, mode=Mode.SUBTRACT)


with BuildPart() as f13_tool:
    # F11 (on face) → F13 (new body)
    with BuildSketch(Plane(origin=(49.0133824514, -150.8476802719, 0), x_dir=(0.9510565163, 0.3090169944, 0), z_dir=(0.3090169944, -0.9510565163, 0))):
        with Locations((0, 17.5)):
            Circle(F11_R)
    extrude(amount=-F13_DEPTH)


with BuildPart() as f1c_1:
    add(f1c.part)

    # F13: cut by f13_tool
    add(f13_tool.part, mode=Mode.SUBTRACT)


with BuildPart() as f1h_1:
    add(f1h.part)

    # F13: cut by f13_tool
    add(f13_tool.part, mode=Mode.SUBTRACT)


with BuildPart() as f15:
    # F14 (on Top) → F15 (new body)
    with BuildSketch(Plane.XY):
        Polygon((-31, -15), (31, -15), (12.1352549156, 15), (0, 6.1832212156), (-12.1352549156, 15), align=None)
    extrude(amount=F15_DEPTH)


solid = Compound([f1b.part, f1d.part, f1e.part, f1_1.part, f1f_2.part, f1g_2.part, f1c_1.part, f1h_1.part, f15.part])
